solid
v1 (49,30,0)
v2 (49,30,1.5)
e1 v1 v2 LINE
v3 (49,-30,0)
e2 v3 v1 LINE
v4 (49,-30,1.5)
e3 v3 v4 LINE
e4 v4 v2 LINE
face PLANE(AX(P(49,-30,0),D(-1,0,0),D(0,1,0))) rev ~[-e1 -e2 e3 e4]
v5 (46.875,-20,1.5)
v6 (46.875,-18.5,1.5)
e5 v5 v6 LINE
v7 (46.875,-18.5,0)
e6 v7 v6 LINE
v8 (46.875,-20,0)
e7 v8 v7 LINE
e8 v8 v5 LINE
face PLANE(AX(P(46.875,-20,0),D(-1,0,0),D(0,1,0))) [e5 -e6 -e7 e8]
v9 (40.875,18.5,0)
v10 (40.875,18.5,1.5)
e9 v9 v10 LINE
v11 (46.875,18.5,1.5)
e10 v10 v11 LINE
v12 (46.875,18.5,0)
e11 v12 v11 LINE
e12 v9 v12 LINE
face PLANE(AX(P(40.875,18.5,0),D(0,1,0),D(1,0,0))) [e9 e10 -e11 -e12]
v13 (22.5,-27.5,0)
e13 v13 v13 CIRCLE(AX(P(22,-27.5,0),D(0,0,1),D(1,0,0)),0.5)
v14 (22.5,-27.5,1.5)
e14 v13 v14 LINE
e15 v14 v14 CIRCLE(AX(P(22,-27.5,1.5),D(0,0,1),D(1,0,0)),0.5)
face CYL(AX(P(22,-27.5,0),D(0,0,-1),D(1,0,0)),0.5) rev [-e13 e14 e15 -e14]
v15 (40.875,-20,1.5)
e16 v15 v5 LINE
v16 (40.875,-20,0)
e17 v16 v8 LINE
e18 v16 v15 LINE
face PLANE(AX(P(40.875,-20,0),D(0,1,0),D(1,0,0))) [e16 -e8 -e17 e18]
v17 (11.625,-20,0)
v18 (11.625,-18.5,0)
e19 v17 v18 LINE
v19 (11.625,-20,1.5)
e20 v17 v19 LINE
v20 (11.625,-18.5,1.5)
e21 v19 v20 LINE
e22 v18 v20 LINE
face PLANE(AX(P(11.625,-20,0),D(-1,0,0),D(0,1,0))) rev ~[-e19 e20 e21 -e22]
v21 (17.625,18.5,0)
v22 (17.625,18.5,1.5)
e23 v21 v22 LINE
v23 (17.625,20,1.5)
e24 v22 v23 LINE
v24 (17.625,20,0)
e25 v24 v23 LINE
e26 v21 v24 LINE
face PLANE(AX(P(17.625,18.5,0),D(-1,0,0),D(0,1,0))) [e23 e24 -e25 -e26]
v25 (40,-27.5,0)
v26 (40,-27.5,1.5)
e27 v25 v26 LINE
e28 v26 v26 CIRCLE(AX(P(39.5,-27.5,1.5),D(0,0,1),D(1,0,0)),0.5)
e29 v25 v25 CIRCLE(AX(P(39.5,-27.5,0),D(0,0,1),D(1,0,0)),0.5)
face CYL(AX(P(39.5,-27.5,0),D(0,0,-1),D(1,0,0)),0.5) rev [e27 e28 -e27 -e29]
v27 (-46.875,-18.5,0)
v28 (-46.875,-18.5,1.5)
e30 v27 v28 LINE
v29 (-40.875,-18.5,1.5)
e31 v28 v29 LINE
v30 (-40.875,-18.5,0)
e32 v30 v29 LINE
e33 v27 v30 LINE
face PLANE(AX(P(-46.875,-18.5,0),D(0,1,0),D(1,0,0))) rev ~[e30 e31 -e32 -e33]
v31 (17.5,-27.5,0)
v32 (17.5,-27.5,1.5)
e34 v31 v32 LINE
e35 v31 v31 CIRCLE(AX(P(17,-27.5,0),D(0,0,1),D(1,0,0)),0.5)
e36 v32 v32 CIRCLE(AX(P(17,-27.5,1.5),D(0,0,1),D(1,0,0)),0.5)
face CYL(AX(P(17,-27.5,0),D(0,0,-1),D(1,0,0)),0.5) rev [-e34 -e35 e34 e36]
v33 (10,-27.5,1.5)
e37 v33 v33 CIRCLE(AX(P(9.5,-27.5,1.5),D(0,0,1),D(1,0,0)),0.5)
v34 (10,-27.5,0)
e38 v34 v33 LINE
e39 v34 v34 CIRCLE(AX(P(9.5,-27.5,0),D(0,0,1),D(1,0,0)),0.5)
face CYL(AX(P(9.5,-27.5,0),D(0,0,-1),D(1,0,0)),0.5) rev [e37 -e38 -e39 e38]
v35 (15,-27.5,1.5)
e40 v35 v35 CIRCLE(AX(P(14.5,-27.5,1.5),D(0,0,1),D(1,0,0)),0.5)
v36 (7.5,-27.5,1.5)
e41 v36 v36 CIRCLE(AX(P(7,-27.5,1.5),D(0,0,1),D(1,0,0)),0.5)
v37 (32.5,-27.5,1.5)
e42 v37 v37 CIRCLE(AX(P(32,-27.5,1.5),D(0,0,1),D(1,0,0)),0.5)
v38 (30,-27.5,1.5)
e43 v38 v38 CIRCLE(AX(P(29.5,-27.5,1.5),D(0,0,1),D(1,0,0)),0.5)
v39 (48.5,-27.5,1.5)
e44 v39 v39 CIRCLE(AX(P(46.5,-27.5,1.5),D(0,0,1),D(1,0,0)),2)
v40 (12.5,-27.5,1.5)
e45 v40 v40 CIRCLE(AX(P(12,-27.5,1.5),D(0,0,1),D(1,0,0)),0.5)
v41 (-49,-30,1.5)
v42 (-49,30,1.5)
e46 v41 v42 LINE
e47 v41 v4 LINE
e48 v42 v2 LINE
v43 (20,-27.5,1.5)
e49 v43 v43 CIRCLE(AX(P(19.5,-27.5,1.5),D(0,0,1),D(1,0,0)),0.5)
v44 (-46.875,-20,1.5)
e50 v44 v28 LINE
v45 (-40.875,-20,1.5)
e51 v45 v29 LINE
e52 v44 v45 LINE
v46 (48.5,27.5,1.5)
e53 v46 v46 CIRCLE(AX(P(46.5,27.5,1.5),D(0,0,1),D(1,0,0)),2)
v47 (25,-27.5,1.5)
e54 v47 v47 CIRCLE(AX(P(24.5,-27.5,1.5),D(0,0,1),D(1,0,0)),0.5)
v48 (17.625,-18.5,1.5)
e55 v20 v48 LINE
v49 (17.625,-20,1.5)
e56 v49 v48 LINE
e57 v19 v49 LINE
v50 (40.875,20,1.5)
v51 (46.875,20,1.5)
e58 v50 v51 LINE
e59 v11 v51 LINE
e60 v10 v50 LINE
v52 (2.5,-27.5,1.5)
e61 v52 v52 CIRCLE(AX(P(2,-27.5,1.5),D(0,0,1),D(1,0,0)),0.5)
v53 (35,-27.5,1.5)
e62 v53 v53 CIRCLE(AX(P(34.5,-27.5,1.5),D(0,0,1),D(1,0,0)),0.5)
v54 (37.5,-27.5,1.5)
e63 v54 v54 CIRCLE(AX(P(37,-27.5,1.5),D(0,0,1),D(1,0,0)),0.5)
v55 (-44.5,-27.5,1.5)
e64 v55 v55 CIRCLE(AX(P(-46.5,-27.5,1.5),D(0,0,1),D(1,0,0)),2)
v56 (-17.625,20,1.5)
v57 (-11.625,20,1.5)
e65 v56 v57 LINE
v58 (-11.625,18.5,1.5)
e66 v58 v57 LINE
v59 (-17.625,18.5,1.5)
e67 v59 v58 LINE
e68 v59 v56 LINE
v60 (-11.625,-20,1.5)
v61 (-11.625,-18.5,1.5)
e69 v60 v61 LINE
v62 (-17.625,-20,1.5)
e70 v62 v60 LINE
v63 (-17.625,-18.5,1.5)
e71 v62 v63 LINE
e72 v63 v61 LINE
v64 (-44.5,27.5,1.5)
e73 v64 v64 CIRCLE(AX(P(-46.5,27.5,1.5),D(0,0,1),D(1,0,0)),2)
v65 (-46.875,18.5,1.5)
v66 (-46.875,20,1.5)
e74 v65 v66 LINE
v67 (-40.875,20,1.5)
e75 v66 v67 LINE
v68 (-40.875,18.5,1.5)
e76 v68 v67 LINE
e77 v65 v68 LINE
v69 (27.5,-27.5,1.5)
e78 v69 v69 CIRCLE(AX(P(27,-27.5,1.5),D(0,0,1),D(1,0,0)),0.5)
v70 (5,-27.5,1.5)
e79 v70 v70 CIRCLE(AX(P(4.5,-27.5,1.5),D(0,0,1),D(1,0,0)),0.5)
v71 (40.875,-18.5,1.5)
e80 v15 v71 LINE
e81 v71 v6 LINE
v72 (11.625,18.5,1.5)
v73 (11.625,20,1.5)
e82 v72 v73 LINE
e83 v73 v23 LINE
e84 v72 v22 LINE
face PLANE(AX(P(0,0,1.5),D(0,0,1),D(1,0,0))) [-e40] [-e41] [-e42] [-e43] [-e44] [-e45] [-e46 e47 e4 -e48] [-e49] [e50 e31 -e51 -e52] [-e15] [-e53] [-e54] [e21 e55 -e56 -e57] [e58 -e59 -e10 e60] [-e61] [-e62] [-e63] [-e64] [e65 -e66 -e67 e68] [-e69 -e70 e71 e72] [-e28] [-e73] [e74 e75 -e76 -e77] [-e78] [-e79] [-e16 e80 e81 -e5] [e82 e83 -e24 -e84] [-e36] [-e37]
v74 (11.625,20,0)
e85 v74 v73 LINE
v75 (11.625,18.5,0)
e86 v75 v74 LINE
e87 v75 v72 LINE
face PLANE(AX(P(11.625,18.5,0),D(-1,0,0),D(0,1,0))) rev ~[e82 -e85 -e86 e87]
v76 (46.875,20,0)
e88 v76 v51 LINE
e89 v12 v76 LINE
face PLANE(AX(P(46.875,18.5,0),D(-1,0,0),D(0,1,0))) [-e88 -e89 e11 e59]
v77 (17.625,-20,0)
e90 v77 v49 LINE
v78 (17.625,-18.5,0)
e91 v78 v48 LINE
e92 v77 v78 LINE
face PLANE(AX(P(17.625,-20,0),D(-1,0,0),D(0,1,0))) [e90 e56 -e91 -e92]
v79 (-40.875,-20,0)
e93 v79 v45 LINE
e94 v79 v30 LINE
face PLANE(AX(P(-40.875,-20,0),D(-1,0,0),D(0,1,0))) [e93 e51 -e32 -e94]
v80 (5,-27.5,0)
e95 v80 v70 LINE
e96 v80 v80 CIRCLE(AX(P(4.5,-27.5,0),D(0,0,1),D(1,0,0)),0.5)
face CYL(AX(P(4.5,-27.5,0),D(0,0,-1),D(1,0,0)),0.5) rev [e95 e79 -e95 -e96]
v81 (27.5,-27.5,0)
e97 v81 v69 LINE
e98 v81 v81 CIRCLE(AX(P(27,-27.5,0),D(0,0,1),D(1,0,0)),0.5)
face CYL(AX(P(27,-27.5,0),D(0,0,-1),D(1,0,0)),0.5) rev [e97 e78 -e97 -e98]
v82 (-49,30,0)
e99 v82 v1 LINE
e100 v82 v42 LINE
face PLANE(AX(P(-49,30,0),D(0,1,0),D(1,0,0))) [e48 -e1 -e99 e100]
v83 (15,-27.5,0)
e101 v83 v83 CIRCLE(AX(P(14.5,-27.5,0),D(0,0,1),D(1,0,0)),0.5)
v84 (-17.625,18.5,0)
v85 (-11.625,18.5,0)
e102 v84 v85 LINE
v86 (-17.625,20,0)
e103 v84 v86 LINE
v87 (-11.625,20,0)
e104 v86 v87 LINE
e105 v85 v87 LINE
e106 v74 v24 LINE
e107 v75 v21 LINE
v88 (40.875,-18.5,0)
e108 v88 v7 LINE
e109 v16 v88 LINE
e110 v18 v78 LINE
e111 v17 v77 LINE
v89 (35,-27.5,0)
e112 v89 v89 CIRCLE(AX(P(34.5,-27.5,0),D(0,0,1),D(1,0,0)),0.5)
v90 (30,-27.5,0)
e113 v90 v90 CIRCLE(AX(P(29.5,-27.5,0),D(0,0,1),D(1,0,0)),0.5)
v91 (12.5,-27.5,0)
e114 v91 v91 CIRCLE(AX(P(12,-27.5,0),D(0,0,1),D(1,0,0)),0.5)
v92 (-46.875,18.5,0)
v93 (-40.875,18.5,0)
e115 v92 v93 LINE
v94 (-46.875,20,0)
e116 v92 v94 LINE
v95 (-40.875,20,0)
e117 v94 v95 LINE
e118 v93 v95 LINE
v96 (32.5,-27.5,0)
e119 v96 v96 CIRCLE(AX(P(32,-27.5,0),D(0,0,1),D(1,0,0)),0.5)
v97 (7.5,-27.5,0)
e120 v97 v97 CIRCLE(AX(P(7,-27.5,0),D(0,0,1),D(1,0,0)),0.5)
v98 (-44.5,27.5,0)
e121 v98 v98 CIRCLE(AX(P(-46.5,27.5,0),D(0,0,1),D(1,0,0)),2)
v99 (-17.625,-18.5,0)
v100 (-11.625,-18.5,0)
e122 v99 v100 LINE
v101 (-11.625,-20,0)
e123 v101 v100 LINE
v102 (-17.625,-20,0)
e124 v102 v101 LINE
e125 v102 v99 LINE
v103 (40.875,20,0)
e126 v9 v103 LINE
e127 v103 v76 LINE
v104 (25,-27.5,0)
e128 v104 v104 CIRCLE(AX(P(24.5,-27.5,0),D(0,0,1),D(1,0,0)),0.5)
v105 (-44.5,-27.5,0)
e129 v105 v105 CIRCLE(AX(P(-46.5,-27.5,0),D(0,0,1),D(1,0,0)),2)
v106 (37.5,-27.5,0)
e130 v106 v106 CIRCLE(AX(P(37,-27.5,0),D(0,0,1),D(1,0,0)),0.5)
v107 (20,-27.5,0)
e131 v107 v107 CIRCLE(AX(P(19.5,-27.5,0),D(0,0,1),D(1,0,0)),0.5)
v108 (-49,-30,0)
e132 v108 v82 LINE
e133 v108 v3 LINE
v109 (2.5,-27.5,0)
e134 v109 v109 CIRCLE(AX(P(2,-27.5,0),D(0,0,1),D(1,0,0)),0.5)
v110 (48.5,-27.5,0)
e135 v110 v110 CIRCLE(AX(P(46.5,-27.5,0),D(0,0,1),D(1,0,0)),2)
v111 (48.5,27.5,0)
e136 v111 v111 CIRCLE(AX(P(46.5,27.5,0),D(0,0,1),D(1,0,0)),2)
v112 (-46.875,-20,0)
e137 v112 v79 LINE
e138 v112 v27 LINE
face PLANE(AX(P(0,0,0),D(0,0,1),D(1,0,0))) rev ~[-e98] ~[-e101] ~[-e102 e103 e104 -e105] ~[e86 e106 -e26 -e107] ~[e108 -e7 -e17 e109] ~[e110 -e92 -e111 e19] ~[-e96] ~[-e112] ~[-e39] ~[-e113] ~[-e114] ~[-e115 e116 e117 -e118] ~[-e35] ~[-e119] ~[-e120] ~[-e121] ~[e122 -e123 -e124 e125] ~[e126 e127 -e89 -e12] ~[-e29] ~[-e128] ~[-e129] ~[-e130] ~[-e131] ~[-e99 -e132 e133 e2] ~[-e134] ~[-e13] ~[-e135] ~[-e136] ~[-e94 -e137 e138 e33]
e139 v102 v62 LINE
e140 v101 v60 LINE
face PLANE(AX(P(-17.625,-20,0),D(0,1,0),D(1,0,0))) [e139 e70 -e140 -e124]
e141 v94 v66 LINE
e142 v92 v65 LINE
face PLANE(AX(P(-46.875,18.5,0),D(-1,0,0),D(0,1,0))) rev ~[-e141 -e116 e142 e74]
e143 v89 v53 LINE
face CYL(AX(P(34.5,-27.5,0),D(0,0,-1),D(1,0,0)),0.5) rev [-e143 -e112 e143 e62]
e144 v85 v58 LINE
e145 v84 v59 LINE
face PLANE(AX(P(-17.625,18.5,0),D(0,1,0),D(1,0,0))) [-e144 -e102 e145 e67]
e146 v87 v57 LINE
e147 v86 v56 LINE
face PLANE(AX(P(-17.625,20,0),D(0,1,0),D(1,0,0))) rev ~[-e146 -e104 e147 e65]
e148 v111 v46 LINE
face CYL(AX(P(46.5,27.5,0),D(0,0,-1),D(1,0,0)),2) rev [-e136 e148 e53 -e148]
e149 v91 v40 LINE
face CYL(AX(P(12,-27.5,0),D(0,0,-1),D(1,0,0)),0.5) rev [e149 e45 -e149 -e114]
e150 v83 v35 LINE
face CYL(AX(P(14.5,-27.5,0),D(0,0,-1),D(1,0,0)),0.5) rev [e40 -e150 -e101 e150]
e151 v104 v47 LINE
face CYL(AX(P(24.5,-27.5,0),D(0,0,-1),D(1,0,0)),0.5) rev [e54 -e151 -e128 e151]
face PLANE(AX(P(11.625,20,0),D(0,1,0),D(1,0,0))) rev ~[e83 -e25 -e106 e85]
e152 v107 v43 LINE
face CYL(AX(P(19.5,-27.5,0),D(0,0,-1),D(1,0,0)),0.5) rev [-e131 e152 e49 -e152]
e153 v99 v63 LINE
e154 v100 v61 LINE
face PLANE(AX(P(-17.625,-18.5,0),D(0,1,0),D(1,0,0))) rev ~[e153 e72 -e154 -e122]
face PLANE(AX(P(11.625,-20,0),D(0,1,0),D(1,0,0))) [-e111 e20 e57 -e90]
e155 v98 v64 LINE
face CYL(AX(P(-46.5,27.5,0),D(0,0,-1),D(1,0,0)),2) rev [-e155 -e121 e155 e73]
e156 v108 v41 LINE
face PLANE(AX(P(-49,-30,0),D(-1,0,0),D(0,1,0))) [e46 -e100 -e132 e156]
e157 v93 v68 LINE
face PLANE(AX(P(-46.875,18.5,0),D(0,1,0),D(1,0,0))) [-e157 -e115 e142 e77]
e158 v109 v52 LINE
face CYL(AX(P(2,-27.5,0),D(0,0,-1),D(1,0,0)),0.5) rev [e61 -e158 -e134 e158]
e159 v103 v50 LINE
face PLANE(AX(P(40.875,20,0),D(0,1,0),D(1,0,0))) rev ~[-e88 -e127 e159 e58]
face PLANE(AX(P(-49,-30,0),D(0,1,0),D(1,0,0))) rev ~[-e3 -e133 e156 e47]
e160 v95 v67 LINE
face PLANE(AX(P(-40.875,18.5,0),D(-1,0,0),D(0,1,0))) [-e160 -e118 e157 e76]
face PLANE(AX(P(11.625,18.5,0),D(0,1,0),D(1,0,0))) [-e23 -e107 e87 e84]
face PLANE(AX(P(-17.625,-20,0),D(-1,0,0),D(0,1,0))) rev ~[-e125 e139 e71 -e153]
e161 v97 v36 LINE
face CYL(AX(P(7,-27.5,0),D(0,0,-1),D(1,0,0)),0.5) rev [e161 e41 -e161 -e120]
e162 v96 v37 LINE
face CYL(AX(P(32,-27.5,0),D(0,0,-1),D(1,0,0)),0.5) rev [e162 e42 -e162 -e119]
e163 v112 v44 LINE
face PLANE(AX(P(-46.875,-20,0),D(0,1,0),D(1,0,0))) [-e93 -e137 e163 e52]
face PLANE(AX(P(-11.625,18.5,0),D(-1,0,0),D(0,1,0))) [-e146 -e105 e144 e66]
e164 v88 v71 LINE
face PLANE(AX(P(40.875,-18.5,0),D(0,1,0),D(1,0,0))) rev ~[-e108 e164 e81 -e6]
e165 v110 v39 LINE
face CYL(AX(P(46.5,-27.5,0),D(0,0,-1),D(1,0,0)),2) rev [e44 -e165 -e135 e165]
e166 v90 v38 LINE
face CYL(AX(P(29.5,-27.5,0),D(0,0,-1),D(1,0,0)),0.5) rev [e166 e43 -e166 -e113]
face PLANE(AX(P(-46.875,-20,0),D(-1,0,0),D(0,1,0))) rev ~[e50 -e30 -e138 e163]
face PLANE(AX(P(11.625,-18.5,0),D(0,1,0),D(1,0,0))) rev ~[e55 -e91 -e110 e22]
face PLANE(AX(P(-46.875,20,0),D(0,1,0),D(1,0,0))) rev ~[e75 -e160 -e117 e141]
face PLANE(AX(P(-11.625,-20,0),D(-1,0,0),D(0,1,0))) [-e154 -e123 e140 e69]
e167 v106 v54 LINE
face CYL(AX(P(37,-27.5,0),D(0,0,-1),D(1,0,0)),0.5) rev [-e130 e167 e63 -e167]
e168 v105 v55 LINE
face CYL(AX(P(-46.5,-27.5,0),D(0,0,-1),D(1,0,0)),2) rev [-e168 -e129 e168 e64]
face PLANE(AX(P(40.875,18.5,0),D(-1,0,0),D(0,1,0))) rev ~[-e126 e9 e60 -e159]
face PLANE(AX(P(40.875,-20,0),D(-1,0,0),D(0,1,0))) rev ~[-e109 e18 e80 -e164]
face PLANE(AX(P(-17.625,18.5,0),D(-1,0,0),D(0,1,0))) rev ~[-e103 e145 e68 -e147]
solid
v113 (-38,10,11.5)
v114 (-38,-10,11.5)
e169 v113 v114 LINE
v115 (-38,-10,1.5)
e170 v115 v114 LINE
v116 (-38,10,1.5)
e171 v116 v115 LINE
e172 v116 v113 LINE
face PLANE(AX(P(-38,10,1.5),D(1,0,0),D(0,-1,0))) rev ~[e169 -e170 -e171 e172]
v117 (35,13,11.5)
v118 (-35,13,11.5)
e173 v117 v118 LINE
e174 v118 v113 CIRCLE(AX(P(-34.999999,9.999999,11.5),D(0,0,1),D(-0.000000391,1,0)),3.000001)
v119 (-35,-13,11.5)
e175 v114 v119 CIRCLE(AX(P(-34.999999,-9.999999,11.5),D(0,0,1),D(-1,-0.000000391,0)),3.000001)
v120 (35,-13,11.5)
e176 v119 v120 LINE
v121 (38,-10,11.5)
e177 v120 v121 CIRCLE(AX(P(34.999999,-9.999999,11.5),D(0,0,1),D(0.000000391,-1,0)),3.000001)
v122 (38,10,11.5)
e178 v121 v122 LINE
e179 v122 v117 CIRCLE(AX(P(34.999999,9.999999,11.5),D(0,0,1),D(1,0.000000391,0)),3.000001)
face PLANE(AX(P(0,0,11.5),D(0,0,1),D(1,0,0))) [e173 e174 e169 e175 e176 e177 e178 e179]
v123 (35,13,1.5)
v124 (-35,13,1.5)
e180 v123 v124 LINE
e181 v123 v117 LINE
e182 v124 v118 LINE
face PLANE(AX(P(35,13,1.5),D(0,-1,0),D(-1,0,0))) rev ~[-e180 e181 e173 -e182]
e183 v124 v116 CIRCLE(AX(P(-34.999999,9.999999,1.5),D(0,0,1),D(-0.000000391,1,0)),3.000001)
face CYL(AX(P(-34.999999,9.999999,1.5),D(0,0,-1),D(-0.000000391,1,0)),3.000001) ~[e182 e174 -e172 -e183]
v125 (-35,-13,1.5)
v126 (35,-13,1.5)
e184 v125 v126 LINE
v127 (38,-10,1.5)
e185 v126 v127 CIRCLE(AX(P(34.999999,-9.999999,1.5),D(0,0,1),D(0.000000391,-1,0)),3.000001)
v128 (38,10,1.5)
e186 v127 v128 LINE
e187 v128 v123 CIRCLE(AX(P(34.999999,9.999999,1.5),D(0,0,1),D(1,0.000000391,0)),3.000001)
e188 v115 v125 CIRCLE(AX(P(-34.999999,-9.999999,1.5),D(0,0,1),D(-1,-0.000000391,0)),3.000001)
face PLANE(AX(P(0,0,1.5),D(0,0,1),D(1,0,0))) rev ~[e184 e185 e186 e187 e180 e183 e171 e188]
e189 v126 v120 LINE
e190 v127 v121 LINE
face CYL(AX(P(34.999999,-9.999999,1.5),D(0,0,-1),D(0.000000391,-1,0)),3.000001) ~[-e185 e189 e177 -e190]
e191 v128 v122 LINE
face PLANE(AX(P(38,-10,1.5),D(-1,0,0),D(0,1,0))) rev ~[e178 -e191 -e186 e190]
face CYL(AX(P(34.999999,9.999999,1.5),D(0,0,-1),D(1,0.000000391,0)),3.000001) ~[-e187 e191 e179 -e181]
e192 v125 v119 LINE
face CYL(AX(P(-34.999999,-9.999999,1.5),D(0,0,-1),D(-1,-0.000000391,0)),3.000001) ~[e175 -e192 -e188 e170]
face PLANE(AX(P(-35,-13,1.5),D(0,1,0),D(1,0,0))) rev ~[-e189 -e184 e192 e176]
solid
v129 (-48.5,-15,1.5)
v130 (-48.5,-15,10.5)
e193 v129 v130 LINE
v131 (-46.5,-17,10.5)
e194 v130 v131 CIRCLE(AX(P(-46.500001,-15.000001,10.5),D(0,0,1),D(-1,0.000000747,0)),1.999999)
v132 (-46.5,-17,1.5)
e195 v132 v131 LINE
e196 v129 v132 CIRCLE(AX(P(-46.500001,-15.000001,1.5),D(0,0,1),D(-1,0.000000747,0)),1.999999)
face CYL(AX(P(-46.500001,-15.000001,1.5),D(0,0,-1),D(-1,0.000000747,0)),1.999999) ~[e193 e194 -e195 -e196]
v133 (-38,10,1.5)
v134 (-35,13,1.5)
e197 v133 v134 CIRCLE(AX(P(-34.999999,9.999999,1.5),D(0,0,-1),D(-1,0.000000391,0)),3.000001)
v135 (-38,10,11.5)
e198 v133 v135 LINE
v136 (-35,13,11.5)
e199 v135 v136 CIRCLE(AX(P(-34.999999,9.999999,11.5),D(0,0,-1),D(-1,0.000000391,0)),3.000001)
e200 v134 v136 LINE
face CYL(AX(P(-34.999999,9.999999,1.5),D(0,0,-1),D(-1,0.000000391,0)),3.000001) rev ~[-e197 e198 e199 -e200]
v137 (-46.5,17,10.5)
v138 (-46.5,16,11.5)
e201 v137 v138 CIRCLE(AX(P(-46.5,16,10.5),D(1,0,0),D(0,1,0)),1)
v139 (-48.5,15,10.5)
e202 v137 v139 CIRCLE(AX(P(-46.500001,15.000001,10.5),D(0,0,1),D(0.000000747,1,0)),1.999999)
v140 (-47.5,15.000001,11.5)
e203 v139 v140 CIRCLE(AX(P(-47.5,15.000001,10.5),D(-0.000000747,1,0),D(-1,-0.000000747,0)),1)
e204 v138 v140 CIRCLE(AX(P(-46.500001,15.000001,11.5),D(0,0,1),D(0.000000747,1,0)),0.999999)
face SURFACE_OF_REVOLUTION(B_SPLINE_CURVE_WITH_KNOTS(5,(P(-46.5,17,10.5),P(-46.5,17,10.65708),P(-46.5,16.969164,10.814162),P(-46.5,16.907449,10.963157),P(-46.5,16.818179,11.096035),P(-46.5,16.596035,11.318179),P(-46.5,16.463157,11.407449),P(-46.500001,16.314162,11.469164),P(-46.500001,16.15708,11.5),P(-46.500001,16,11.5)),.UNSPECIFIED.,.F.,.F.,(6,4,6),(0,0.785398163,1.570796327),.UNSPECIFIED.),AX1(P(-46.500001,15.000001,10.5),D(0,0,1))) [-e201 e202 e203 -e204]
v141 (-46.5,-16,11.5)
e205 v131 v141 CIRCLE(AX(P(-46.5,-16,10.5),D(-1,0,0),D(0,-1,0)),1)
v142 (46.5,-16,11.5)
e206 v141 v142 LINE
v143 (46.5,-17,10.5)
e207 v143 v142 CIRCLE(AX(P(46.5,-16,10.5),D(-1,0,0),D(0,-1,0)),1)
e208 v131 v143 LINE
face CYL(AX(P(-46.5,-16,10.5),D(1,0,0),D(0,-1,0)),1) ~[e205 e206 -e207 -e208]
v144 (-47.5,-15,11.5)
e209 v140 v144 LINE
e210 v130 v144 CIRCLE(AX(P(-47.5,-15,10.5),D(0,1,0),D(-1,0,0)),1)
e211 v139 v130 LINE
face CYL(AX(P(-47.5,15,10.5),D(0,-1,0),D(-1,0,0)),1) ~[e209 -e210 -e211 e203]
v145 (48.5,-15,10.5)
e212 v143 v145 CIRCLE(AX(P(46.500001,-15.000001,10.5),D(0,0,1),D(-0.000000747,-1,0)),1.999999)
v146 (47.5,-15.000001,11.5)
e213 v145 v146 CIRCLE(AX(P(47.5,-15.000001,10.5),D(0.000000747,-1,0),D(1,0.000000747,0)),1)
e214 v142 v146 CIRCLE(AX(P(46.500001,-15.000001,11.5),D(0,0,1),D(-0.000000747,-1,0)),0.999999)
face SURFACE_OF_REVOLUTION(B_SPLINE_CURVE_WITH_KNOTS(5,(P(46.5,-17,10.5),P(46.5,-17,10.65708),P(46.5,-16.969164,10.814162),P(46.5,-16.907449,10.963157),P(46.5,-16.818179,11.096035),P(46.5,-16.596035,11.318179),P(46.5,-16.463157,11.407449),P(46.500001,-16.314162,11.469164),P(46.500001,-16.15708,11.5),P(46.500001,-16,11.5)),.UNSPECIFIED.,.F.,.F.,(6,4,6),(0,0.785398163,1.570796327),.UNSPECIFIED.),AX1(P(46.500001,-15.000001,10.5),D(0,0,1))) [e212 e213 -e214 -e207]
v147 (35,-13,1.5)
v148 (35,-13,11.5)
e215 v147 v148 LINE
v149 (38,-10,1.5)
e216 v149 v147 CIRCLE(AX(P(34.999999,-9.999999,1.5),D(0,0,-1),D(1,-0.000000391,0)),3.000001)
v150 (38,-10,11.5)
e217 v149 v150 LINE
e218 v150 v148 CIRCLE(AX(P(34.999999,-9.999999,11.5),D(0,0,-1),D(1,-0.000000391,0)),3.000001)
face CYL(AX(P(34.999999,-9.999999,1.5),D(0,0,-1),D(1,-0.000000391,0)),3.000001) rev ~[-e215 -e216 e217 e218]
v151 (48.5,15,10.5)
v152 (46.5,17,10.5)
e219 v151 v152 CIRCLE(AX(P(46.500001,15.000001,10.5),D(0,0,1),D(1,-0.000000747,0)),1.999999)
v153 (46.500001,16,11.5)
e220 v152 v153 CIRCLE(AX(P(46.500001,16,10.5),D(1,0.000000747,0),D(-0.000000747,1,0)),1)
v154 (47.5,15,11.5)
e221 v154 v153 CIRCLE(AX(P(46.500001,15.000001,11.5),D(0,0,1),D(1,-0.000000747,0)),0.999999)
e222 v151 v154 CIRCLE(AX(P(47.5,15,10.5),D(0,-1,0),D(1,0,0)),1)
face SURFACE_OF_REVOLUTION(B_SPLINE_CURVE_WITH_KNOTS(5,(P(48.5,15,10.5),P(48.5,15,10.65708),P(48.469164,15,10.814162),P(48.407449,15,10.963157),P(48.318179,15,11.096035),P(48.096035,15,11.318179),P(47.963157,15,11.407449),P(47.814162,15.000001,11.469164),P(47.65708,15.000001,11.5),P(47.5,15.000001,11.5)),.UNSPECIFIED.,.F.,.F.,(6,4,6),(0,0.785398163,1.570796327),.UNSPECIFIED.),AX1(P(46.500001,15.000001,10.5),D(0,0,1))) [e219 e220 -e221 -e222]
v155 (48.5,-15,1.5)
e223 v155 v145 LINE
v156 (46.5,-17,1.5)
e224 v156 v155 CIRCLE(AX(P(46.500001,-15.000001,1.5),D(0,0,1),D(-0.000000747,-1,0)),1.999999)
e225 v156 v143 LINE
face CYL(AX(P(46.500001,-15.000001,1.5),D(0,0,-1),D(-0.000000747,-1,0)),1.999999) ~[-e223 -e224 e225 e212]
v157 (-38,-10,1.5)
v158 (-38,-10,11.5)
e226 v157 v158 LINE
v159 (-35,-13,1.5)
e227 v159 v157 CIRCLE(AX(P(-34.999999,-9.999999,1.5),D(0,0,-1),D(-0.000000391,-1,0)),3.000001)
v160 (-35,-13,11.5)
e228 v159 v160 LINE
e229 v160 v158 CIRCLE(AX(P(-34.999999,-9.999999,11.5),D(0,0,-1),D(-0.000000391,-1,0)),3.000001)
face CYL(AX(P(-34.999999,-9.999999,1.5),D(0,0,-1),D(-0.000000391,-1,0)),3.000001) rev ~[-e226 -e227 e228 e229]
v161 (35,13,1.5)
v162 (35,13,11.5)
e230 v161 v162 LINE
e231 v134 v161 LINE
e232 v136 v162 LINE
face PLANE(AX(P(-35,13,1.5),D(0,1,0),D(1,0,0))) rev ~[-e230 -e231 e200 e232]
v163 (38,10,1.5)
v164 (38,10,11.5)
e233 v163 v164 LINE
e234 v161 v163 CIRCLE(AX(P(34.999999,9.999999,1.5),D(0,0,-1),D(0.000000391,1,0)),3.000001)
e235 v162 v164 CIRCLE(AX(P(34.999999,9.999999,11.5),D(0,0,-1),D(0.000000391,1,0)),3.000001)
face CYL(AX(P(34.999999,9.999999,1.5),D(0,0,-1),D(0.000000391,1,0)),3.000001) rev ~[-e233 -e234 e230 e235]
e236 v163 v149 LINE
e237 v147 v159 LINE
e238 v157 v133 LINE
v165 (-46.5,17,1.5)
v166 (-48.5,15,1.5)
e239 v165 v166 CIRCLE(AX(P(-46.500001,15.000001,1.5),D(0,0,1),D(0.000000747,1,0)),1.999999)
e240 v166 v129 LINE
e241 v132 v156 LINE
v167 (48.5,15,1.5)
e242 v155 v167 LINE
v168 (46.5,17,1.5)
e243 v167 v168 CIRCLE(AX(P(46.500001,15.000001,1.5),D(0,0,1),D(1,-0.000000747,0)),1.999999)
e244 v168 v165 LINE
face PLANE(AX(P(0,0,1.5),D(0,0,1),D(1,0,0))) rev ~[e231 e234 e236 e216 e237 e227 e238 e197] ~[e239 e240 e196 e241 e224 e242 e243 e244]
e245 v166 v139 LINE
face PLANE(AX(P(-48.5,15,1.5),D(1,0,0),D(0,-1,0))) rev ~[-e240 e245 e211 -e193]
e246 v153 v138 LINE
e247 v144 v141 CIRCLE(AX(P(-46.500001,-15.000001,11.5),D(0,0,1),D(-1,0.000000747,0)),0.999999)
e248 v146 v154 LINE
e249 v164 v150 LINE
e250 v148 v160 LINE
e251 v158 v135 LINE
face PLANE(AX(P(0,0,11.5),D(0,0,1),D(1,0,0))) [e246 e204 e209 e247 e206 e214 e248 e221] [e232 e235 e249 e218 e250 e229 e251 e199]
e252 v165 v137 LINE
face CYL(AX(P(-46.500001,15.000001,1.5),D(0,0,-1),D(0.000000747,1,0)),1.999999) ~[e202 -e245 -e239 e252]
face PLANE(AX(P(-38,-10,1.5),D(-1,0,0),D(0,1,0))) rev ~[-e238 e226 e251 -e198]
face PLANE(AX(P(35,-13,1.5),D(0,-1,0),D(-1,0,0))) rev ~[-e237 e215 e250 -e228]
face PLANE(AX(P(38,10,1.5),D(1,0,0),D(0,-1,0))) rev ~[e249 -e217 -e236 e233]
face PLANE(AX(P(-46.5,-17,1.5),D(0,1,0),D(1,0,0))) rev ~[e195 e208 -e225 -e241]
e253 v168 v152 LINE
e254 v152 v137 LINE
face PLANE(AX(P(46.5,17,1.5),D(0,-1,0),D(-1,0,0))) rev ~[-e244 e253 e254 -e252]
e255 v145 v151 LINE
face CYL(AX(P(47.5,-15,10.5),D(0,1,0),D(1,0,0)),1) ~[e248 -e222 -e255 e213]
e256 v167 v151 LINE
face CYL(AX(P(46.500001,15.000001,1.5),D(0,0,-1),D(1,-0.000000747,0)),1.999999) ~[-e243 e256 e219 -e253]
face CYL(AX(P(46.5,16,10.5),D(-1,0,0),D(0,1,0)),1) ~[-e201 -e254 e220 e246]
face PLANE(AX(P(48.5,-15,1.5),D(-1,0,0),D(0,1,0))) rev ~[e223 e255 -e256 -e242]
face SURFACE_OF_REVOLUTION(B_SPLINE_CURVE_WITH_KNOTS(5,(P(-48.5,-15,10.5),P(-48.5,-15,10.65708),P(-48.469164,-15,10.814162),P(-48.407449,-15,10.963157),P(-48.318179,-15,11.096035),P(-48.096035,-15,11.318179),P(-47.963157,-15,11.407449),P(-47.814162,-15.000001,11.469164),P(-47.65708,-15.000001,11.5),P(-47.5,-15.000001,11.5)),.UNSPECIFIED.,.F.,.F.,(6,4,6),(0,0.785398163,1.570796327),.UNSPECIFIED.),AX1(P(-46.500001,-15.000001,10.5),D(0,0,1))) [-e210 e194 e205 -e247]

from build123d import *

# Parameters (mm, degrees)
F0_W     = 98
F0_H     = 60
F0_R     = 2
F0_W_2   = 6
F0_H_2   = 1.5
F0_R_2   = 0.5
F1_DEPTH = 1.5
F3_DEPTH = 10
F4_DEPTH = 10
F5_R     = 1


with BuildPart() as f1:
    # F0 (on Top) → F1 (new body)
    with BuildSketch(Plane.XY):
        Rectangle(F0_W, F0_H)
        with Locations((-46.5, -27.5)):
            Circle(F0_R, mode=Mode.SUBTRACT)
        with Locations((-43.875, -19.25)):
            Rectangle(F0_W_2, F0_H_2, mode=Mode.SUBTRACT)
        with Locations((-14.625, -19.25)):
            Rectangle(F0_W_2, F0_H_2, mode=Mode.SUBTRACT)
        with Locations((2, -27.5)):
            Circle(F0_R_2, mode=Mode.SUBTRACT)
        with Locations((4.5, -27.5)):
            Circle(F0_R_2, mode=Mode.SUBTRACT)
        with Locations((7, -27.5)):
            Circle(F0_R_2, mode=Mode.SUBTRACT)
        with Locations((9.5, -27.5)):
            Circle(F0_R_2, mode=Mode.SUBTRACT)
        with Locations((12, -27.5)):
            Circle(F0_R_2, mode=Mode.SUBTRACT)
        with Locations((14.5, -27.5)):
            Circle(F0_R_2, mode=Mode.SUBTRACT)
        with Locations((17, -27.5)):
            Circle(F0_R_2, mode=Mode.SUBTRACT)
        with Locations((19.5, -27.5)):
            Circle(F0_R_2, mode=Mode.SUBTRACT)
        with Locations((22, -27.5)):
            Circle(F0_R_2, mode=Mode.SUBTRACT)
        with Locations((24.5, -27.5)):
            Circle(F0_R_2, mode=Mode.SUBTRACT)
        with Locations((14.625, -19.25)):
            Rectangle(F0_W_2, F0_H_2, mode=Mode.SUBTRACT)
        with Locations((27, -27.5)):
            Circle(F0_R_2, mode=Mode.SUBTRACT)
        with Locations((29.5, -27.5)):
            Circle(F0_R_2, mode=Mode.SUBTRACT)
        with Locations((32, -27.5)):
            Circle(F0_R_2, mode=Mode.SUBTRACT)
        with Locations((34.5, -27.5)):
            Circle(F0_R_2, mode=Mode.SUBTRACT)
        with Locations((37, -27.5)):
            Circle(F0_R_2, mode=Mode.SUBTRACT)
        with Locations((39.5, -27.5)):
            Circle(F0_R_2, mode=Mode.SUBTRACT)
        with Locations((46.5, -27.5)):
            Circle(F0_R, mode=Mode.SUBTRACT)
        with Locations((43.875, -19.25)):
            Rectangle(F0_W_2, F0_H_2, mode=Mode.SUBTRACT)
        with Locations((-43.875, 19.25)):
            Rectangle(F0_W_2, F0_H_2, mode=Mode.SUBTRACT)
        with Locations((-46.5, 27.5)):
            Circle(F0_R, mode=Mode.SUBTRACT)
        with Locations((-14.625, 19.25)):
            Rectangle(F0_W_2, F0_H_2, mode=Mode.SUBTRACT)
        with Locations((14.625, 19.25)):
            Rectangle(F0_W_2, F0_H_2, mode=Mode.SUBTRACT)
        with Locations((43.875, 19.25)):
            Rectangle(F0_W_2, F0_H_2, mode=Mode.SUBTRACT)
        with Locations((46.5, 27.5)):
            Circle(F0_R, mode=Mode.SUBTRACT)
    extrude(amount=F1_DEPTH)


with BuildPart() as f3:
    # F2 (on face) → F3 (new body)
    with BuildSketch(Plane.XY.offset(1.5)):
        with BuildLine():
            Line((46.5, 17), (-46.5, 17))
            ThreePointArc((-46.5, 17), (-47.914214, 16.414214), (-48.5, 15))
            Line((-48.5, 15), (-48.5, -15))
            ThreePointArc((-48.5, -15), (-47.914214, -16.414214), (-46.5, -17))
            Line((-46.5, -17), (46.5, -17))
            ThreePointArc((46.5, -17), (47.914214, -16.414214), (48.5, -15))
            Line((48.5, -15), (48.5, 15))
            ThreePointArc((48.5, 15), (47.914214, 16.414214), (46.5, 17))
        make_face()
        with BuildLine():
            ThreePointArc((-38, 10), (-37.12132, 12.12132), (-35, 13))
            Line((-35, 13), (35, 13))
            ThreePointArc((35, 13), (37.12132, 12.12132), (38, 10))
            Line((38, 10), (38, -10))
            ThreePointArc((38, -10), (37.12132, -12.12132), (35, -13))
            Line((35, -13), (-35, -13))
            ThreePointArc((-35, -13), (-37.12132, -12.12132), (-38, -10))
            Line((-38, -10), (-38, 10))
        make_face(mode=Mode.SUBTRACT)
    extrude(amount=F3_DEPTH)

    # F5
    f5_edges = [f3.edges().sort_by_distance(p)[0] for p in [
        (0, -17, 11.5),
    ]]
    fillet(f5_edges, radius=F5_R)


with BuildPart() as f4:
    # F2 (on face) → F4 (new body)
    with BuildSketch(Plane.XY.offset(1.5)):
        with BuildLine():
            Line((35, 13), (-35, 13))
            ThreePointArc((-35, 13), (-37.12132, 12.12132), (-38, 10))
            Line((-38, 10), (-38, -10))
            ThreePointArc((-38, -10), (-37.12132, -12.12132), (-35, -13))
            Line((-35, -13), (35, -13))
            ThreePointArc((35, -13), (37.12132, -12.12132), (38, -10))
            Line((38, -10), (38, 10))
            ThreePointArc((38, 10), (37.12132, 12.12132), (35, 13))
        make_face()
    extrude(amount=F4_DEPTH)


solid = Compound([f1.part, f3.part, f4.part])
